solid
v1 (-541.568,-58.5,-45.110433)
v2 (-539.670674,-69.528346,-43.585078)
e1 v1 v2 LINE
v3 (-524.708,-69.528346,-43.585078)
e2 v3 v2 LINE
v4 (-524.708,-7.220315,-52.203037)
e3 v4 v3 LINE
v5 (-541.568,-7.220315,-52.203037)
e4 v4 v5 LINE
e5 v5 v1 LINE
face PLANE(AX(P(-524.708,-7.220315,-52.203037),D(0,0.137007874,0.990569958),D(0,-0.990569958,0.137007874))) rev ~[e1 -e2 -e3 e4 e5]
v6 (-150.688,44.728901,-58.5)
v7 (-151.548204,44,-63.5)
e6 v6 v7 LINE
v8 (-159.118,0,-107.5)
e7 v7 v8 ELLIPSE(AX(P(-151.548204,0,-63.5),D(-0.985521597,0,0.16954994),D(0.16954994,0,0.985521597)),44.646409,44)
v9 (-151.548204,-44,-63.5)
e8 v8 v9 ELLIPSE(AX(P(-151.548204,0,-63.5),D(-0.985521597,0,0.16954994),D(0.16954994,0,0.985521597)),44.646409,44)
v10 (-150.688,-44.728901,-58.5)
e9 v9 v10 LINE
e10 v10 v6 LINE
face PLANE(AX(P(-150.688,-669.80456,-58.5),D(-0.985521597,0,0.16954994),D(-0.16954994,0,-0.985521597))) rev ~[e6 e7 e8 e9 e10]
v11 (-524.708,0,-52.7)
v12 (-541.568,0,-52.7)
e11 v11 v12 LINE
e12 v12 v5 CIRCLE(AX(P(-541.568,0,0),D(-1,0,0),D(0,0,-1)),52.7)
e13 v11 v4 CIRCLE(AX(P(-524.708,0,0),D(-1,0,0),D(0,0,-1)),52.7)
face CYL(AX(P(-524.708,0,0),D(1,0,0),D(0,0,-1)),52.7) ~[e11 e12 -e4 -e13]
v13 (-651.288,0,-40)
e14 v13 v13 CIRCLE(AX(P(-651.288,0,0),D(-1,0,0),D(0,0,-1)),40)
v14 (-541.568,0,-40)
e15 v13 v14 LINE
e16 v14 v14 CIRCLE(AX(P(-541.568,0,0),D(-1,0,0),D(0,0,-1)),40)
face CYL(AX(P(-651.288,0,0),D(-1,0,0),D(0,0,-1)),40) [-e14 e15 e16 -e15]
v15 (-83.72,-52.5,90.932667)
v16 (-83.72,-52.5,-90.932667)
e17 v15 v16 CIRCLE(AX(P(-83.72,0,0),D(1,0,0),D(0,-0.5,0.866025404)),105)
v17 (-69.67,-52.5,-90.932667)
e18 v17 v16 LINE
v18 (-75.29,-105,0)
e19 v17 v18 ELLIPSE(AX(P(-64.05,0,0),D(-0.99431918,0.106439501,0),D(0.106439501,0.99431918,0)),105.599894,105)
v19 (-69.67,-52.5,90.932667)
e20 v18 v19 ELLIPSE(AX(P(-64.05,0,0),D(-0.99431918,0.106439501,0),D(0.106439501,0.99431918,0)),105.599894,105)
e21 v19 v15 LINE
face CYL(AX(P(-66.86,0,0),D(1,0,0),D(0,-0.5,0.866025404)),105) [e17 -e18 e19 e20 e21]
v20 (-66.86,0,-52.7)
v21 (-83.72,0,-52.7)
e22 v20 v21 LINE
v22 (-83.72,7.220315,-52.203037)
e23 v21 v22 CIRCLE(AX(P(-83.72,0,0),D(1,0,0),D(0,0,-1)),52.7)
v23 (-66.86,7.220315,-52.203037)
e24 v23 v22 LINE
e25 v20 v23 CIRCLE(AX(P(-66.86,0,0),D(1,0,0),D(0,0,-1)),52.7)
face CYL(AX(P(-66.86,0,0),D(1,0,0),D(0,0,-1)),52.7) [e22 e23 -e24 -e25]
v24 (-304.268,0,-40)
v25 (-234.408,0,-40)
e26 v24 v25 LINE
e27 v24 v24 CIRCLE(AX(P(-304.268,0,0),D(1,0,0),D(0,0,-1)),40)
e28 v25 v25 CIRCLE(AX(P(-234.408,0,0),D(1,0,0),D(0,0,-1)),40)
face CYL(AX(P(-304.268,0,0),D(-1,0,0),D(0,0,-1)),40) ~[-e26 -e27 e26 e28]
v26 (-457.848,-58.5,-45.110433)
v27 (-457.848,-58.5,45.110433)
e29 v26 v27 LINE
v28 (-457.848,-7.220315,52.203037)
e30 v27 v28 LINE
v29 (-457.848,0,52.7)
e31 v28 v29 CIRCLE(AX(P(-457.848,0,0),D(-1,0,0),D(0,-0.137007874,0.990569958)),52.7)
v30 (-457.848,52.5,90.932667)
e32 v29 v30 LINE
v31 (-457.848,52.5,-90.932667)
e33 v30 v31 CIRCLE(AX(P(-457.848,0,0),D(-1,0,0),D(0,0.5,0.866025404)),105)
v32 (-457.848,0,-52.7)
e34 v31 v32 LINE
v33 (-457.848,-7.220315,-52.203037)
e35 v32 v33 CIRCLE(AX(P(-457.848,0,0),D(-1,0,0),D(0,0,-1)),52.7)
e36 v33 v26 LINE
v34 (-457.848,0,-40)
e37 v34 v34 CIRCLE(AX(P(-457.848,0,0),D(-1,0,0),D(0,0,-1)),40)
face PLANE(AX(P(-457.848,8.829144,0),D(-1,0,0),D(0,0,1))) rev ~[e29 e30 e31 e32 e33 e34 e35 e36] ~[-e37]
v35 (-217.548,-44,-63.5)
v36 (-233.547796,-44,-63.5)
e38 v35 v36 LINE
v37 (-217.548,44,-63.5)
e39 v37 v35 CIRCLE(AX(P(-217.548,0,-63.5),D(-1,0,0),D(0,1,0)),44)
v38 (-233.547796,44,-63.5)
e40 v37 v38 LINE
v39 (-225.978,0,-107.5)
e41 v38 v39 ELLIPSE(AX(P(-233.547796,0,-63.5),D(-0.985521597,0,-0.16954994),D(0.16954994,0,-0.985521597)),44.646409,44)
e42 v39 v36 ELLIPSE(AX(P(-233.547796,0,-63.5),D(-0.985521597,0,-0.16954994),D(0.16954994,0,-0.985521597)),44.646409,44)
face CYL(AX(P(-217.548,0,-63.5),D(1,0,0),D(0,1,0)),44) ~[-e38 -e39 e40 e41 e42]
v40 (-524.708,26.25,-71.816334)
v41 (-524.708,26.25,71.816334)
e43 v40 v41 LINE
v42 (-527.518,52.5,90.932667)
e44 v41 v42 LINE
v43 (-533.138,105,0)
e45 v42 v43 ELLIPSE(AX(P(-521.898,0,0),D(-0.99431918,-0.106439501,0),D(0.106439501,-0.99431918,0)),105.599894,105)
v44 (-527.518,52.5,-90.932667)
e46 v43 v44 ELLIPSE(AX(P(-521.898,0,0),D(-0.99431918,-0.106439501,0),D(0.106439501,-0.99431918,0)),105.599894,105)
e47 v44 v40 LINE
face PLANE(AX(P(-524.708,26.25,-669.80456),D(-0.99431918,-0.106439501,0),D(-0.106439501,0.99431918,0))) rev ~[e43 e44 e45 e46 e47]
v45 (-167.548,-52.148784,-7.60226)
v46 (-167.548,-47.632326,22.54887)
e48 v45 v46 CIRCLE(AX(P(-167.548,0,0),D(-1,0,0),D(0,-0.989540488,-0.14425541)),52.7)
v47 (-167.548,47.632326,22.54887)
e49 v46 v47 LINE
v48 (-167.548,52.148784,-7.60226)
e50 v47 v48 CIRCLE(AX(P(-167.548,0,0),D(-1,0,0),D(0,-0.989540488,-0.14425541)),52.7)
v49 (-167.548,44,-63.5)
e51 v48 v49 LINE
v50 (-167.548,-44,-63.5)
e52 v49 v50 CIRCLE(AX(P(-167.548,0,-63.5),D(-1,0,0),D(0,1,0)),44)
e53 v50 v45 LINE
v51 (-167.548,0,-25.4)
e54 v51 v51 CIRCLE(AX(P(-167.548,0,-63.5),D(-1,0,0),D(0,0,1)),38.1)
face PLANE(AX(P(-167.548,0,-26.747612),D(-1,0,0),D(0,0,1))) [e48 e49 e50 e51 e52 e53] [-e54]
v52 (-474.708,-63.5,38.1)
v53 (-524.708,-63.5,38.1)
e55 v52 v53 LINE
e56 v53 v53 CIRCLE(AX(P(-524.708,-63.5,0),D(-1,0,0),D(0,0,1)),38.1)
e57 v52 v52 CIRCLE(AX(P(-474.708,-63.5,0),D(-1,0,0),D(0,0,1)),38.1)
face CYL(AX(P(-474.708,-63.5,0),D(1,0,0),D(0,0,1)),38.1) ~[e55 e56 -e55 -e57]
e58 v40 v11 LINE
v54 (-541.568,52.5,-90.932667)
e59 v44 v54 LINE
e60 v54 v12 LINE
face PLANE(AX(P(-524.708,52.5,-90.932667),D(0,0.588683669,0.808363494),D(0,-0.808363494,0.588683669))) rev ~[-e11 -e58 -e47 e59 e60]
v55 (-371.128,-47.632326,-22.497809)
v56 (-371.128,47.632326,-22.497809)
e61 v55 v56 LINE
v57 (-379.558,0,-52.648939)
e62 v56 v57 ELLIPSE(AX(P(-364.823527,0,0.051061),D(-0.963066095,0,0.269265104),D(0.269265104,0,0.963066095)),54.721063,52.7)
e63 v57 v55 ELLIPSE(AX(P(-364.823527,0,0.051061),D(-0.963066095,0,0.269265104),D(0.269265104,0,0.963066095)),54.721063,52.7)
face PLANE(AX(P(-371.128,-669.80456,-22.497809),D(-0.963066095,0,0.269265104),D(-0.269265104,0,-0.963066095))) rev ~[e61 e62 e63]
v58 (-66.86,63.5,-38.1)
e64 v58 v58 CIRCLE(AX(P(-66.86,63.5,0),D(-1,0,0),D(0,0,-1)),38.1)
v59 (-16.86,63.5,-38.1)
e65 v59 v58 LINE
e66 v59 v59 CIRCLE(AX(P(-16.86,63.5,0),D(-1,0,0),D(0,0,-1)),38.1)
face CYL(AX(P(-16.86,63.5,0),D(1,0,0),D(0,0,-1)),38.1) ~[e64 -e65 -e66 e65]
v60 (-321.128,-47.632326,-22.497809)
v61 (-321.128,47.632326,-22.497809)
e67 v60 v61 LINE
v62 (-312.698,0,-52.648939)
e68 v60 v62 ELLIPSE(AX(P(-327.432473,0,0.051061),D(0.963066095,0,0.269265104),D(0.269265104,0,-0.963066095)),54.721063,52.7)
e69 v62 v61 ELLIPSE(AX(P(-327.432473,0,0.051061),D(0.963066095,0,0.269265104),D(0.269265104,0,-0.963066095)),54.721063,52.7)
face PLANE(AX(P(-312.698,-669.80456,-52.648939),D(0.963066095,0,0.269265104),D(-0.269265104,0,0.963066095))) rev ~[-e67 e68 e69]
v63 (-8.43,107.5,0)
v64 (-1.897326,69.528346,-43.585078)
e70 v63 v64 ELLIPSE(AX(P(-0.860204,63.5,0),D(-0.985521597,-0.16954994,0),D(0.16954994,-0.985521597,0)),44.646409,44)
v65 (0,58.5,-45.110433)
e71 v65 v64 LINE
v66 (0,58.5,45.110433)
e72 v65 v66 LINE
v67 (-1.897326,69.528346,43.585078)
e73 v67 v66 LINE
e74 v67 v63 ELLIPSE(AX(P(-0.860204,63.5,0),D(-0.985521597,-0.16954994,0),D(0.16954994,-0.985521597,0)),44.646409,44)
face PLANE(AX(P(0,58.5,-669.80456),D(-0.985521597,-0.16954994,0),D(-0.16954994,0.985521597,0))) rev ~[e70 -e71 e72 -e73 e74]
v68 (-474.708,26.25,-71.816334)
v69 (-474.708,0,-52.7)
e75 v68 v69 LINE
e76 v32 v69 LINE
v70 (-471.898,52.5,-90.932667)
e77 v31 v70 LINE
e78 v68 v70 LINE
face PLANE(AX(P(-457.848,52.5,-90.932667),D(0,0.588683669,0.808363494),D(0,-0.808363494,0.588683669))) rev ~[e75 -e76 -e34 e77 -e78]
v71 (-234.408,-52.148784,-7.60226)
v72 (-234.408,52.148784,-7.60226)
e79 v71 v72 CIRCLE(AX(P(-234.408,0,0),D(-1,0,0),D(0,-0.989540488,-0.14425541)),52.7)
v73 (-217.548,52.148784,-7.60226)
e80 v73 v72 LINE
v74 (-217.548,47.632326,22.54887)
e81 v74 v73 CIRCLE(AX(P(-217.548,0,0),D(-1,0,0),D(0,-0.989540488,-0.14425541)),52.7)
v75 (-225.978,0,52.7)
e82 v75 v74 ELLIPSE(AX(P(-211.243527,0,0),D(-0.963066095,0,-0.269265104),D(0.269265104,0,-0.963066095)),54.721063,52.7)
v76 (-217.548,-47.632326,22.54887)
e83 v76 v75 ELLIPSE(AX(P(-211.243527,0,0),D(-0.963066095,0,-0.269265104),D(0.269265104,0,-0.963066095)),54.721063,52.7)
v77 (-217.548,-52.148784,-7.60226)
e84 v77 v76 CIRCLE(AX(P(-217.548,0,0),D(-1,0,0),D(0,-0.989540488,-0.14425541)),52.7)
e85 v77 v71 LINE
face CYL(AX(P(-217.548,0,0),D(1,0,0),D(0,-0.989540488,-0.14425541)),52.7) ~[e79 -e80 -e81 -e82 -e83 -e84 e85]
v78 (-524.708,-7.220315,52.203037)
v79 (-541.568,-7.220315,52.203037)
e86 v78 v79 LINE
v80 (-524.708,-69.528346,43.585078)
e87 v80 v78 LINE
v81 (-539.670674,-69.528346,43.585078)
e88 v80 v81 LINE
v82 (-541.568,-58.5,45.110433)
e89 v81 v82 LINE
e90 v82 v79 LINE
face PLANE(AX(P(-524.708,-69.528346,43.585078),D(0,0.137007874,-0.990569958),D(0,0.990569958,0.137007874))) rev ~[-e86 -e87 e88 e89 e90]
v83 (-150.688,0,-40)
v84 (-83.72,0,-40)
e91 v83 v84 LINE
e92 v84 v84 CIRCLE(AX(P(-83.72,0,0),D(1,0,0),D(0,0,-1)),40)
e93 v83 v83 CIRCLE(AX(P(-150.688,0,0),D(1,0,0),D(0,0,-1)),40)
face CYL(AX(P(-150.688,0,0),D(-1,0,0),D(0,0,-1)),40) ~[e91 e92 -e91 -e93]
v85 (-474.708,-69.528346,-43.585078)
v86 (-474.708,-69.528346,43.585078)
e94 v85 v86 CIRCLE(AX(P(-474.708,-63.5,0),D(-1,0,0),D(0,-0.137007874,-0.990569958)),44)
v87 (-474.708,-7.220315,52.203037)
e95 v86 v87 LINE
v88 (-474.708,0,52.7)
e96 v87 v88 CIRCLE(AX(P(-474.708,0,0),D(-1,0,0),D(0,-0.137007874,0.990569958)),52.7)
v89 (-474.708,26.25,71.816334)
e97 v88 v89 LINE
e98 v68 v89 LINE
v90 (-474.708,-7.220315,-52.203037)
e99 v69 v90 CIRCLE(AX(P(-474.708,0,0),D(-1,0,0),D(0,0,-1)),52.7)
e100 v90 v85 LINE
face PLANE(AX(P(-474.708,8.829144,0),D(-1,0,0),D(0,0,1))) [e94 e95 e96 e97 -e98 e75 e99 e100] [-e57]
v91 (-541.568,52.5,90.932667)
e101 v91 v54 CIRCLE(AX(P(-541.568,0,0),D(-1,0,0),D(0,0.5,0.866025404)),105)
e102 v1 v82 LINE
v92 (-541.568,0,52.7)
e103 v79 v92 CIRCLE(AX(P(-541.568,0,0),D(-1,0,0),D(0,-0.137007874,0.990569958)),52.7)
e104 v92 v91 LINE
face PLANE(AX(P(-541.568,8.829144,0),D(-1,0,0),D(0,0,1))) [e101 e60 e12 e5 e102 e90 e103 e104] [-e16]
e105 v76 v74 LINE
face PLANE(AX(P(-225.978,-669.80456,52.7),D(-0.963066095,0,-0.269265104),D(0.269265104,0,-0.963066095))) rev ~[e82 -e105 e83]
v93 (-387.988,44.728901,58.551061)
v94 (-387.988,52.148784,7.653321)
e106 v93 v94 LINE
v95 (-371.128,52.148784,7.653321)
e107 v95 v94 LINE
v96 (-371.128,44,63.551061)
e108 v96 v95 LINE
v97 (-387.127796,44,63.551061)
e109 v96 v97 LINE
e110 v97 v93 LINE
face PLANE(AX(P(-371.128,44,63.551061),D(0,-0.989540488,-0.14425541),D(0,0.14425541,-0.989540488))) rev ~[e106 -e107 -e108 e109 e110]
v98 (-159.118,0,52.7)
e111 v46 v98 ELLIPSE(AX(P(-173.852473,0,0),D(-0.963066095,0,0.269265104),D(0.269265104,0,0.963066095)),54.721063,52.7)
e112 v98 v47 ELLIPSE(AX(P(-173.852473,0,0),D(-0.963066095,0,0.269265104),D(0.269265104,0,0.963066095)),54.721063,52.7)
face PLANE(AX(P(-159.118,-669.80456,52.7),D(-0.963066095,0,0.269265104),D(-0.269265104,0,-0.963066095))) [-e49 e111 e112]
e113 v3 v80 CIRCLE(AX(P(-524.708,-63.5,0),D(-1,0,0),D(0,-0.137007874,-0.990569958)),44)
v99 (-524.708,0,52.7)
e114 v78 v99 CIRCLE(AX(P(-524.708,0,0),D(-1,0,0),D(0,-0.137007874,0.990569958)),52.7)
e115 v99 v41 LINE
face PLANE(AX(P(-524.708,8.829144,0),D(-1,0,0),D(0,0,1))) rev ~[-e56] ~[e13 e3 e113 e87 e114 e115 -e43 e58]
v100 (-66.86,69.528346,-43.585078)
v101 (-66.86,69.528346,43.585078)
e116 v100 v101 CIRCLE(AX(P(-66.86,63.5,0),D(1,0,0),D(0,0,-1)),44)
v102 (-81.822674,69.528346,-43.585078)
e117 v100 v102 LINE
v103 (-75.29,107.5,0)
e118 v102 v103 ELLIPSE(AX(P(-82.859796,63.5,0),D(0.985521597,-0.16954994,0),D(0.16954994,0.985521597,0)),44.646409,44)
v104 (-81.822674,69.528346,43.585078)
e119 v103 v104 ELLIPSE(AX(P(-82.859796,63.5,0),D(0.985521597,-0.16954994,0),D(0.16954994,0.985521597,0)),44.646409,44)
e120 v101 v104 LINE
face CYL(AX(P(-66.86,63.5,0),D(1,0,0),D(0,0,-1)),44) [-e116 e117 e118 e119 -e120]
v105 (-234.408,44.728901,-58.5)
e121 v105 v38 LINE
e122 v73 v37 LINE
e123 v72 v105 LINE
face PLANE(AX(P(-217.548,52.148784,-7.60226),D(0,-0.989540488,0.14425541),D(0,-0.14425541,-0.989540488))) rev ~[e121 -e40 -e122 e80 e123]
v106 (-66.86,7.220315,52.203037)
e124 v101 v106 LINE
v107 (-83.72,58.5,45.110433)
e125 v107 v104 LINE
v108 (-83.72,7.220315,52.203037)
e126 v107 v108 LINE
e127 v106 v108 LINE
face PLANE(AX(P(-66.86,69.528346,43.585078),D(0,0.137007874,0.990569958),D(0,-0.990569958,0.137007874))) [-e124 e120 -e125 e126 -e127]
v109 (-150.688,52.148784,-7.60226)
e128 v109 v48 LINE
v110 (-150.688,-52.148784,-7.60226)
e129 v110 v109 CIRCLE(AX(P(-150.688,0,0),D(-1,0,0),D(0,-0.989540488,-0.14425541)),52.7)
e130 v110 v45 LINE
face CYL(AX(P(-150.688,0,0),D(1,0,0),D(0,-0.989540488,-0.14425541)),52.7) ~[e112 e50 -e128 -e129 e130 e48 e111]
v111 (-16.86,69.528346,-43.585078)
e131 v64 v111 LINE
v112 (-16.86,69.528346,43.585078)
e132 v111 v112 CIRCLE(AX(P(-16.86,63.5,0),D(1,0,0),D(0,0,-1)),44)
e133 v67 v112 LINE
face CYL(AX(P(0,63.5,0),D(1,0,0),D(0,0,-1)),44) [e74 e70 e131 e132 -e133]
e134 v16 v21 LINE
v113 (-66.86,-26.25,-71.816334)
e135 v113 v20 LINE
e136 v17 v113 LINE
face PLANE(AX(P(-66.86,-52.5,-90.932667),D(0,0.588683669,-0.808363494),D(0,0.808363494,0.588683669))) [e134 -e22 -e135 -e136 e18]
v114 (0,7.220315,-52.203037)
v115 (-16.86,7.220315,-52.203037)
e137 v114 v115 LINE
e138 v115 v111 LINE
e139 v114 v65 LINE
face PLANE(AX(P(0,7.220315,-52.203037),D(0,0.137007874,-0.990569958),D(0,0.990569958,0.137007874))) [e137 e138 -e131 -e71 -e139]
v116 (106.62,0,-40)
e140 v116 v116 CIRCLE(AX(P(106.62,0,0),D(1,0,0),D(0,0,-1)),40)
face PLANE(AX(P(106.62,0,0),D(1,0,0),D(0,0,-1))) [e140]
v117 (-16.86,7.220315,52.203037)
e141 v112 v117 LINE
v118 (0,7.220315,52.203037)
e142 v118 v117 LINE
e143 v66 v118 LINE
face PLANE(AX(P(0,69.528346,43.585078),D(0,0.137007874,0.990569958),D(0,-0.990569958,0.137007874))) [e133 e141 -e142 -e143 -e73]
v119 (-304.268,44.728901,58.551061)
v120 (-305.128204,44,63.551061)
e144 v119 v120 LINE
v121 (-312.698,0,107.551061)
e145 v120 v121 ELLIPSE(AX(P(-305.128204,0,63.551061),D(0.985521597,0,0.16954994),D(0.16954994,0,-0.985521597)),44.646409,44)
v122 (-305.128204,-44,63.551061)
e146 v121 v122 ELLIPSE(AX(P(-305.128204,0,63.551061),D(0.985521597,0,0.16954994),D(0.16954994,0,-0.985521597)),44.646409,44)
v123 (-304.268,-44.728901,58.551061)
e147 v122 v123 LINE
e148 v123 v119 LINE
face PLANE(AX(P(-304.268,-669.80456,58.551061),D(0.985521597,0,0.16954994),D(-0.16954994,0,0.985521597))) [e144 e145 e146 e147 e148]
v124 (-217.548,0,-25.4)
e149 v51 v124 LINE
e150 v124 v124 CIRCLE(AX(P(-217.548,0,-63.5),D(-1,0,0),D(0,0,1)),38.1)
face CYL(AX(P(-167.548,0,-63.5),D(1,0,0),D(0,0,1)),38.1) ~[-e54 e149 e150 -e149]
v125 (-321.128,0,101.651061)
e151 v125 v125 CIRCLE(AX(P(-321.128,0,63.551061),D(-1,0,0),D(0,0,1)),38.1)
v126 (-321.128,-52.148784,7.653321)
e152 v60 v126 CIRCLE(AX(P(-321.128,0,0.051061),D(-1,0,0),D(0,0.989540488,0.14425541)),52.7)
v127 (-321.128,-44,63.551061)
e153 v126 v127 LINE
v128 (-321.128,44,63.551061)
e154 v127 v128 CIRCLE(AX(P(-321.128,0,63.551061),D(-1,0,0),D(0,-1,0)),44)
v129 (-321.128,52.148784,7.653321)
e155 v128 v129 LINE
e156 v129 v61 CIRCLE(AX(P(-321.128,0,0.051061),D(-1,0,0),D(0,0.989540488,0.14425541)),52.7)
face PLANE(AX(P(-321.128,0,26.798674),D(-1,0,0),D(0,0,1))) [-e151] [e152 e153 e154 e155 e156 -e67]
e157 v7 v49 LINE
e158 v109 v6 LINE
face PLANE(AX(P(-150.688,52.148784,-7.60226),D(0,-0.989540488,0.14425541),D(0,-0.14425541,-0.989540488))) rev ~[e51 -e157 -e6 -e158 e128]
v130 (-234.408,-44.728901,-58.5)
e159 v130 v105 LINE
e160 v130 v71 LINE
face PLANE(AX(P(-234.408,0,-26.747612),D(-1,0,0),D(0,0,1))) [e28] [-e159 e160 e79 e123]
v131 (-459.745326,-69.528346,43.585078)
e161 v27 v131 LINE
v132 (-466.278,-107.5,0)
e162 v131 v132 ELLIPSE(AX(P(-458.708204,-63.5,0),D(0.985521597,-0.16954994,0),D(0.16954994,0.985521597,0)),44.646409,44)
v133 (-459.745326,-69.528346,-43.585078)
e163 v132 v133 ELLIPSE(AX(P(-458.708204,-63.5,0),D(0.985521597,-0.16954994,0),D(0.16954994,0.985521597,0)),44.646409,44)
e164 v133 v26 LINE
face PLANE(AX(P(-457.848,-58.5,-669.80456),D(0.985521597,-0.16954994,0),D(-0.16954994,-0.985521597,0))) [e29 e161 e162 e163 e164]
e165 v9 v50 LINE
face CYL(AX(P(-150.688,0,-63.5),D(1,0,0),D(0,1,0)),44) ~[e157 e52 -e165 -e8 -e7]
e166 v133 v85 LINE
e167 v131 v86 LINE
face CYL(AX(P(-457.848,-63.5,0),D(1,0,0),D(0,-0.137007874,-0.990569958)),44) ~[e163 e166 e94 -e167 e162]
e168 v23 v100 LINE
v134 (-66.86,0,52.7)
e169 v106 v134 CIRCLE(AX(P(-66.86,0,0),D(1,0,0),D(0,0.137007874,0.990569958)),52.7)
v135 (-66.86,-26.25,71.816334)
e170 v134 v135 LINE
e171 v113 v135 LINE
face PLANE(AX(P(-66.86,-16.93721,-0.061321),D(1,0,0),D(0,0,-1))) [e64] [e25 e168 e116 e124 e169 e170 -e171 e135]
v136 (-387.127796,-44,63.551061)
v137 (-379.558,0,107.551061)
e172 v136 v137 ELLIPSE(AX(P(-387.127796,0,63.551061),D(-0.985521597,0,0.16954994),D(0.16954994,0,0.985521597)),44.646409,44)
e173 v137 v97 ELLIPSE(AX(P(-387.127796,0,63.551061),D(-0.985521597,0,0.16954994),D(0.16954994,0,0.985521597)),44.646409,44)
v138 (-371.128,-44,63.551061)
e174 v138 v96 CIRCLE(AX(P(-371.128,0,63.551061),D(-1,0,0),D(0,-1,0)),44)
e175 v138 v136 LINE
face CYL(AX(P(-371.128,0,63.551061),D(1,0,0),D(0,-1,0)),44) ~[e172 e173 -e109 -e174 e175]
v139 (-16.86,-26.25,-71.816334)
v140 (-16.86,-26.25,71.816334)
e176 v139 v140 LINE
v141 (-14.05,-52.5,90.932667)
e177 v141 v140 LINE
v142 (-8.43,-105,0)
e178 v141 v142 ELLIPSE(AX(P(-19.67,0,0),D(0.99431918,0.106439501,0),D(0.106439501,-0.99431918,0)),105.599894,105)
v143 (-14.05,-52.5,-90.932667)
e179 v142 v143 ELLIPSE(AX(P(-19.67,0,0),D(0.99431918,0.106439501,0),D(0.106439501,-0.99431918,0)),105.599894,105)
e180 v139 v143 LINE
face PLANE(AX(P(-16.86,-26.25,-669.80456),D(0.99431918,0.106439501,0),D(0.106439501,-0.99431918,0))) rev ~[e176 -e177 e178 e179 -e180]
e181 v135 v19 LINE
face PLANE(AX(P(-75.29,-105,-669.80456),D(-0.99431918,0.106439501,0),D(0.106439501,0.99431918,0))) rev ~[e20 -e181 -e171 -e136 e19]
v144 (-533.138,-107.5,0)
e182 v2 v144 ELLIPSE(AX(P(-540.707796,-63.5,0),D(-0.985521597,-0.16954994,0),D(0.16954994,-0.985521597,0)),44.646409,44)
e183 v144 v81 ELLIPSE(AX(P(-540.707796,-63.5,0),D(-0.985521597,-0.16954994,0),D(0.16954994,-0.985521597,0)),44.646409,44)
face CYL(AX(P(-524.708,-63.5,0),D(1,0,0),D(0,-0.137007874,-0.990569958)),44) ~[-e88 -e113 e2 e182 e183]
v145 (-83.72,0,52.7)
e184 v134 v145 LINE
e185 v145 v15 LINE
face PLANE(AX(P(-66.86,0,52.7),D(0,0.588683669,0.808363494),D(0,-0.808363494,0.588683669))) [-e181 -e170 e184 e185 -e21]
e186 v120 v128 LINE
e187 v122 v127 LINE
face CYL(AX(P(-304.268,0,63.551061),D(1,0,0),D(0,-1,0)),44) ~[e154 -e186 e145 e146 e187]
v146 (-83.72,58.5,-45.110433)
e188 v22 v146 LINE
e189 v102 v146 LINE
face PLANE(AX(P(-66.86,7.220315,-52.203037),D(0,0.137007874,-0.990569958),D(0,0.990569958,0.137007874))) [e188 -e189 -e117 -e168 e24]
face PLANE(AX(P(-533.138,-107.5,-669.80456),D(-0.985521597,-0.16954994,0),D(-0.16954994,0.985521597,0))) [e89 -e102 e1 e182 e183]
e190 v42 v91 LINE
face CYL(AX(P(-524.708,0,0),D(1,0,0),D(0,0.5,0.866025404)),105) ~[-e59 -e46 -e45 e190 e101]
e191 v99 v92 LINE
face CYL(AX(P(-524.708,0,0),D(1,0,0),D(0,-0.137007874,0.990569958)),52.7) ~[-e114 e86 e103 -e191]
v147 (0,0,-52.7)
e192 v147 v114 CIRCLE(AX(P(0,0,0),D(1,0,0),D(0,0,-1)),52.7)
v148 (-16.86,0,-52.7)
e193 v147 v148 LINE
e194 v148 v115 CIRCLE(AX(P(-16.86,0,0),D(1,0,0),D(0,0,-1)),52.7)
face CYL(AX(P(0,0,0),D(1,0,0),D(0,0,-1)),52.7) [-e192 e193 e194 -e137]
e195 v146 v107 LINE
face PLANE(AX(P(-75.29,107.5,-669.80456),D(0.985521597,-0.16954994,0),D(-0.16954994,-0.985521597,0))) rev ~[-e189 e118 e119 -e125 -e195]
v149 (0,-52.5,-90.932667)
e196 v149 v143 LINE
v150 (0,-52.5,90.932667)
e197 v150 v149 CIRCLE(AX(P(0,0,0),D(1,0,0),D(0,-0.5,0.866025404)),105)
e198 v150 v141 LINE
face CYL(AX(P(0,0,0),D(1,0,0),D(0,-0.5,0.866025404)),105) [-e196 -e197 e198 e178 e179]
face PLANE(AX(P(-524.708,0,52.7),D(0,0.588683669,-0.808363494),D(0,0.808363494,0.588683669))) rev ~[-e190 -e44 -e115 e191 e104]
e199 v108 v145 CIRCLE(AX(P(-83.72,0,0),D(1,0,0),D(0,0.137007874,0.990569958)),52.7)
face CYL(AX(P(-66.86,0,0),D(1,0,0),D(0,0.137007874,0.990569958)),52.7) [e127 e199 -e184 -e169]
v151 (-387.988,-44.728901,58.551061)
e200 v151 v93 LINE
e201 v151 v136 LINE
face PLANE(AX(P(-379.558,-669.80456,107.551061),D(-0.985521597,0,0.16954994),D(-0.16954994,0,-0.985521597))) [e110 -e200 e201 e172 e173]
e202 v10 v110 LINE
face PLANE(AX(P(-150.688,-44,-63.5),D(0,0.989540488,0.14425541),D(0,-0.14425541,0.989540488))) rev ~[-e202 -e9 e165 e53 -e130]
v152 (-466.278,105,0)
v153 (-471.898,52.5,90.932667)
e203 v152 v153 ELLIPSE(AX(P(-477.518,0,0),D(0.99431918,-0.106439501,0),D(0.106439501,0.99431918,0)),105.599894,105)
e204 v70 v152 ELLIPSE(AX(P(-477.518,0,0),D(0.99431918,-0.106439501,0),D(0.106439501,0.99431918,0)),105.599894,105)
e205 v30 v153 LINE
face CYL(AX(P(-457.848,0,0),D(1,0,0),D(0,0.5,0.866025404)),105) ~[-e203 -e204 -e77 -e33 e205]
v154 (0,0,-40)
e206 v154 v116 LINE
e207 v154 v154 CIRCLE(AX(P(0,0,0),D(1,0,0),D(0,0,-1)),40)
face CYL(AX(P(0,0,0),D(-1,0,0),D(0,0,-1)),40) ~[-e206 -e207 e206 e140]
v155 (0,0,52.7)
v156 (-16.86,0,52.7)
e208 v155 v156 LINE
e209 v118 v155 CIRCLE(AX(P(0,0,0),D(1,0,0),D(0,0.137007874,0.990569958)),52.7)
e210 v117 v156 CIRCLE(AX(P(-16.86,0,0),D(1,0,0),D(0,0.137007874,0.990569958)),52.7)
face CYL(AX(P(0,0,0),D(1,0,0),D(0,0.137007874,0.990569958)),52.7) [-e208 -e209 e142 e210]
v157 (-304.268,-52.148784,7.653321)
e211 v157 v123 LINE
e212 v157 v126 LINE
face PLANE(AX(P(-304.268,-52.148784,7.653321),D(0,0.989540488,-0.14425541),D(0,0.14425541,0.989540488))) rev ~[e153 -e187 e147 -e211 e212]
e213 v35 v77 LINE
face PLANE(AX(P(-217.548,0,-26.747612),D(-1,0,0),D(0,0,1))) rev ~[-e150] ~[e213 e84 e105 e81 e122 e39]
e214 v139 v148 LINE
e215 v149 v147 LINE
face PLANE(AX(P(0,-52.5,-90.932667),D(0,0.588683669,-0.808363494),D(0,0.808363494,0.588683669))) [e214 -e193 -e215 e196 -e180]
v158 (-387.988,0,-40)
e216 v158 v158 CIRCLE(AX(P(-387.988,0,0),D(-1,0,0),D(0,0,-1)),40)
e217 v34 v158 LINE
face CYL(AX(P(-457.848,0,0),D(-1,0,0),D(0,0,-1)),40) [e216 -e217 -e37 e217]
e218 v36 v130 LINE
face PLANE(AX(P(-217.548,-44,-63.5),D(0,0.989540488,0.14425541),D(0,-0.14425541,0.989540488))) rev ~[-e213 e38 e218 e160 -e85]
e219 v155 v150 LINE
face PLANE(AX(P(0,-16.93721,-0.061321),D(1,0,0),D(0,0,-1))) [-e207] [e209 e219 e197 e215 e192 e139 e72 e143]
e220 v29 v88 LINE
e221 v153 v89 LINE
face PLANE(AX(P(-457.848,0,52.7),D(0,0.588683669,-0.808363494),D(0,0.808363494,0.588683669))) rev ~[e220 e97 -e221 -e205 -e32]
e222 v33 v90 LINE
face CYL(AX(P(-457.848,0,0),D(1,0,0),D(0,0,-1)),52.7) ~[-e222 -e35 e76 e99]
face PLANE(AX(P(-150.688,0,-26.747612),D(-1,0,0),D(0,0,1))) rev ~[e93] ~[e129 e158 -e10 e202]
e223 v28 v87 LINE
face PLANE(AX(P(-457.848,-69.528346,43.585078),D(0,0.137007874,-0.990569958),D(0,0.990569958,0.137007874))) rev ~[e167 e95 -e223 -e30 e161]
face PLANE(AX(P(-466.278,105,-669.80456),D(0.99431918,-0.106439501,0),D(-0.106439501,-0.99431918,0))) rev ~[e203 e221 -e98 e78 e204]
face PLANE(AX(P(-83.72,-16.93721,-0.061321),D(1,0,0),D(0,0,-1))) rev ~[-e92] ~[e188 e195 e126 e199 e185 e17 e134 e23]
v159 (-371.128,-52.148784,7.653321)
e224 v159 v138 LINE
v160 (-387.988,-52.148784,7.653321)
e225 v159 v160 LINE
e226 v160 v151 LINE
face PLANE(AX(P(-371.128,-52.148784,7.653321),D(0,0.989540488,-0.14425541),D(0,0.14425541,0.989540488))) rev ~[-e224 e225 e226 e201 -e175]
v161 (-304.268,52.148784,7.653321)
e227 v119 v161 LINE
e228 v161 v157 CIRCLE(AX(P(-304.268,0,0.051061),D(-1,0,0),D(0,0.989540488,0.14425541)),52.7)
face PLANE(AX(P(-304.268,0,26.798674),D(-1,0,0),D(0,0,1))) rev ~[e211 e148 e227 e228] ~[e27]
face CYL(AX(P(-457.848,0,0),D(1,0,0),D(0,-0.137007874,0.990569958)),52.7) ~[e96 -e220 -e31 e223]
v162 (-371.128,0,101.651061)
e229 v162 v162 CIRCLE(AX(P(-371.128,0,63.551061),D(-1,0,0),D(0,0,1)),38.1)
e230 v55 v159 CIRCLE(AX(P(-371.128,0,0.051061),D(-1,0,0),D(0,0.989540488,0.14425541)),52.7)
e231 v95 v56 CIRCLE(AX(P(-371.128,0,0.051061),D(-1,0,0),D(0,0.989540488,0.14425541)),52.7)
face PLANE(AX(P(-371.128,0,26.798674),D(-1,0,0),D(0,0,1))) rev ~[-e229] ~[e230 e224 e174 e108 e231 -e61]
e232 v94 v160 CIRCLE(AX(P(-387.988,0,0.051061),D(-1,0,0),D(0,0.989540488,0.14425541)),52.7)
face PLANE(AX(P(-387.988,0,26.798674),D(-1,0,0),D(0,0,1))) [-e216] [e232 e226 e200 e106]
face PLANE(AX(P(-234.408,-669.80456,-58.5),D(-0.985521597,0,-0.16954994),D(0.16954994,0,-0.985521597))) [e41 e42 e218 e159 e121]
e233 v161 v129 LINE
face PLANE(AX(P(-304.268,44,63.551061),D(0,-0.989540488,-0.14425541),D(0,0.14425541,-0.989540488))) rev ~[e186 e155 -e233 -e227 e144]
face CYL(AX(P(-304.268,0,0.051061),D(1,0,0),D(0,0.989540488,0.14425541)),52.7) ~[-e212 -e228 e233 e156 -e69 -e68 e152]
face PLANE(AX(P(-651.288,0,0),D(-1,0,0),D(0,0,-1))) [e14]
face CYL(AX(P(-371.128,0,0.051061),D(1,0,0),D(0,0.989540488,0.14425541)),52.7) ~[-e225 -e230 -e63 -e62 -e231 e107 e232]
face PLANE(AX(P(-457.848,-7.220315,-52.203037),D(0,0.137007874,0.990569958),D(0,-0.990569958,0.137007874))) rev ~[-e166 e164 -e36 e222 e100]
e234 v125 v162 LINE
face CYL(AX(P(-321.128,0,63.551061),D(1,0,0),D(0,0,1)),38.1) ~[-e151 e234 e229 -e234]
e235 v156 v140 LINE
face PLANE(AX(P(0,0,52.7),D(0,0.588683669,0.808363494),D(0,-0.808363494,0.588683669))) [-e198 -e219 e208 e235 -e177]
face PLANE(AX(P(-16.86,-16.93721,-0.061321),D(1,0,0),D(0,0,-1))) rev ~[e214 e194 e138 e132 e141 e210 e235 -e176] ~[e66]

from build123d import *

# Parameters (mm, degrees)
SKETCH1_R               = 40
BOSS_EXTRUDE1_DEPTH     = 106.62
SKETCH2_R               = 44
BOSS_EXTRUDE2_DEPTH     = 16.86
SKETCH3_R               = 38.1
BOSS_EXTRUDE3_DEPTH     = 50
LPATTERN1_COUNT         = 2
LPATTERN1_PITCH         = 66.86
BOSS_EXTRUDE4_START     = -150.688
SKETCH1_2_R             = 40
BOSS_EXTRUDE4_DEPTH     = 66.968
BOSS_EXTRUDE5_DEPTH     = 16.86
SKETCH5_R               = 38.1
BOSS_EXTRUDE6_DEPTH     = 50
LPATTERN2_COUNT         = 2
LPATTERN2_PITCH         = 66.86
BOSS_EXTRUDE7_START     = -304.268
SKETCH1_3_R             = 40
BOSS_EXTRUDE7_DEPTH     = 69.86
BOSS_EXTRUDE8_DEPTH     = 16.86
SKETCH7_R               = 38.1
BOSS_EXTRUDE9_DEPTH     = 50
BOSS_EXTRUDE10_START    = 66.86
BOSS_EXTRUDE10_DEPTH    = 16.86
BOSS_EXTRUDE11_START    = 69.86
SKETCH8_R               = 40
BOSS_EXTRUDE11_DEPTH    = 69.86
SKETCH9_R               = 40
BOSS_EXTRUDE12_DEPTH    = 16.86
SKETCH10_R              = 38.1
BOSS_EXTRUDE13_DEPTH    = 50
BOSS_EXTRUDE14_START    = 66.86
SKETCH9_3_R             = 40
BOSS_EXTRUDE14_DEPTH    = 16.86
BOSS_EXTRUDE15_START    = 193.44
SKETCH9_4_R             = 40
BOSS_EXTRUDE15_DEPTH    = 109.72
CUT_EXTRUDE1_DEPTH      = 669.804560177
CUT_EXTRUDE1_DEPTH_BACK = 669.804560177
CUT_EXTRUDE2_DEPTH      = 669.804560177
CUT_EXTRUDE2_DEPTH_BACK = 669.804560177


with BuildPart() as part:
    # Sketch1 → Boss-Extrude1 (new body)
    with BuildSketch(Plane(origin=(0, 0, 0), x_dir=(0, 0, -1), z_dir=(1, 0, 0))):
        Circle(SKETCH1_R)
    extrude(amount=BOSS_EXTRUDE1_DEPTH)

    # Sketch2 → Boss-Extrude2 (add)
    with BuildSketch(Plane(origin=(0, 0, 0), x_dir=(0, 0, -1), z_dir=(1, 0, 0))):
        with BuildLine():
            Line((52.203036807, 7.220314961), (43.585078169, 69.528346457))
            ThreePointArc((43.585078169, 69.528346457), (43.89614698, 66.521304401), (44, 63.5))
            ThreePointArc((44, 63.5), (-3.021304401, 19.60385302), (-43.585078169, 69.528346457))
            Line((-43.585078169, 69.528346457), (-52.203036807, 7.220314961))
            ThreePointArc((-52.203036807, 7.220314961), (-52.575612406, 3.61869868), (-52.7, 0))
            Line((-52.7, 0), (-90.932667397, -52.5))
            ThreePointArc((-90.932667397, -52.5), (0, -105), (90.932667397, -52.5))
            Line((90.932667397, -52.5), (52.7, 0))
            ThreePointArc((52.7, 0), (52.575612406, 3.61869868), (52.203036807, 7.220314961))
        make_face()
        with Locations((0, 63.5)):
            Circle(SKETCH2_R)
    boss_extrude2 = extrude(amount=-BOSS_EXTRUDE2_DEPTH)

    # Sketch3 → Boss-Extrude3 (add)
    with BuildSketch(Plane.ZY.offset(16.86)):
        with Locations(Location((0, 63.5, 0), (0, 0, 180))):
            Circle(SKETCH3_R)
    extrude(amount=BOSS_EXTRUDE3_DEPTH)

    # LPattern1: Boss-Extrude2 ×2
    with Locations(*[(-i * LPATTERN1_PITCH, 0, 0) for i in range(1, LPATTERN1_COUNT)]):
        add(boss_extrude2)

    # Sketch1<2> → Boss-Extrude4 (add)
    with BuildSketch(Plane(origin=(0, 0, 0), x_dir=(0, 0, -1), z_dir=(1, 0, 0)).offset(BOSS_EXTRUDE4_START)):
        Circle(SKETCH1_2_R)
    extrude(amount=BOSS_EXTRUDE4_DEPTH)

    # Sketch4 → Boss-Extrude5 (add)
    with BuildSketch(Plane.ZY.offset(150.688)):
        with BuildLine():
            Line((-7.602260115, 52.148783698), (-63.5, 44))
            ThreePointArc((-63.5, 44), (-107.5, 0), (-63.5, -44))
            Line((-63.5, -44), (-7.602260115, -52.148783698))
            ThreePointArc((-7.602260115, -52.148783698), (52.7, 0), (-7.602260115, 52.148783698))
        make_face()
    boss_extrude5 = extrude(amount=BOSS_EXTRUDE5_DEPTH)

    # Sketch5 → Boss-Extrude6 (add)
    with BuildSketch(Plane.ZY.offset(167.548)):
        with Locations((-63.5, 0)):
            Circle(SKETCH5_R)
    extrude(amount=BOSS_EXTRUDE6_DEPTH)

    # LPattern2: Boss-Extrude5 ×2
    with Locations(*[(-i * LPATTERN2_PITCH, 0, 0) for i in range(1, LPATTERN2_COUNT)]):
        add(boss_extrude5)

    # Sketch1<3> → Boss-Extrude7 (add)
    with BuildSketch(Plane(origin=(0, 0, 0), x_dir=(0, 0, -1), z_dir=(1, 0, 0)).offset(BOSS_EXTRUDE7_START)):
        Circle(SKETCH1_3_R)
    extrude(amount=BOSS_EXTRUDE7_DEPTH)

    # Sketch6 → Boss-Extrude8 (add)
    with BuildSketch(Plane.ZY.offset(304.268)):
        with BuildLine():
            Line((7.653321337, -52.148783698), (63.551061222, -44))
            ThreePointArc((63.551061222, -44), (107.551061222, 0), (63.551061222, 44))
            Line((63.551061222, 44), (7.653321337, 52.148783698))
            ThreePointArc((7.653321337, 52.148783698), (-52.648938778, 0), (7.653321337, -52.148783698))
        make_face()
    extrude(amount=BOSS_EXTRUDE8_DEPTH)

    # Sketch7 → Boss-Extrude9 (add)
    with BuildSketch(Plane.ZY.offset(321.128)):
        with Locations((63.551061222, 0)):
            Circle(SKETCH7_R)
    extrude(amount=BOSS_EXTRUDE9_DEPTH)

    # Sketch6<2> → Boss-Extrude10 (add)
    with BuildSketch(Plane.ZY.offset(304.268).offset(BOSS_EXTRUDE10_START)):
        with BuildLine():
            Line((7.653321337, -52.148783698), (63.551061222, -44))
            ThreePointArc((63.551061222, -44), (107.551061222, 0), (63.551061222, 44))
            Line((63.551061222, 44), (7.653321337, 52.148783698))
            ThreePointArc((7.653321337, 52.148783698), (-52.648938778, 0), (7.653321337, -52.148783698))
        make_face()
    extrude(amount=BOSS_EXTRUDE10_DEPTH)

    # Sketch8 → Boss-Extrude11 (add)
    with BuildSketch(Plane.ZY.offset(387.988).offset(BOSS_EXTRUDE11_START)):
        with Locations(Location((0, 0, 0), (0, 0, 180))):
            Circle(SKETCH8_R)
    extrude(amount=-BOSS_EXTRUDE11_DEPTH)

    # Sketch9 → Boss-Extrude12 (add)
    # profile 1 of 2: a face of its own
    with BuildSketch(Plane.ZY.offset(457.848)):
        with BuildLine():
            Line((52.7, 0), (90.932667397, 52.5))
            ThreePointArc((90.932667397, 52.5), (0, 105), (-90.932667397, 52.5))
            Line((-90.932667397, 52.5), (-52.7, 0))
            ThreePointArc((-52.7, 0), (-52.575612406, -3.61869868), (-52.203036807, -7.220314961))
            Line((-52.203036807, -7.220314961), (-43.585078169, -69.528346457))
            ThreePointArc((-43.585078169, -69.528346457), (0, -107.5), (43.585078169, -69.528346457))
            Line((43.585078169, -69.528346457), (52.203036807, -7.220314961))
            ThreePointArc((52.203036807, -7.220314961), (52.575612406, -3.61869868), (52.7, 0))
        make_face()
        with Locations(Location((0, 0, 0), (0, 0, 180))):
            Circle(SKETCH9_R, mode=Mode.SUBTRACT)
    # profile 2 of 2: a face of its own
    with BuildSketch(Plane.ZY.offset(457.848)):
        with Locations(Location((0, 0, 0), (0, 0, 180))):
            Circle(SKETCH9_R)
    extrude(amount=BOSS_EXTRUDE12_DEPTH)

    # Sketch10 → Boss-Extrude13 (add)
    with BuildSketch(Plane.ZY.offset(474.708)):
        with Locations((0, -63.5)):
            Circle(SKETCH10_R)
    extrude(amount=BOSS_EXTRUDE13_DEPTH)

    # Sketch9<3> → Boss-Extrude14 (add)
    # profile 1 of 2: a face of its own
    with BuildSketch(Plane.ZY.offset(457.848).offset(BOSS_EXTRUDE14_START)):
        with BuildLine():
            Line((52.7, 0), (90.932667397, 52.5))
            ThreePointArc((90.932667397, 52.5), (0, 105), (-90.932667397, 52.5))
            Line((-90.932667397, 52.5), (-52.7, 0))
            ThreePointArc((-52.7, 0), (-52.575612406, -3.61869868), (-52.203036807, -7.220314961))
            Line((-52.203036807, -7.220314961), (-43.585078169, -69.528346457))
            ThreePointArc((-43.585078169, -69.528346457), (0, -107.5), (43.585078169, -69.528346457))
            Line((43.585078169, -69.528346457), (52.203036807, -7.220314961))
            ThreePointArc((52.203036807, -7.220314961), (52.575612406, -3.61869868), (52.7, 0))
        make_face()
        with Locations(Location((0, 0, 0), (0, 0, 180))):
            Circle(SKETCH9_3_R, mode=Mode.SUBTRACT)
    # profile 2 of 2: a face of its own
    with BuildSketch(Plane.ZY.offset(457.848).offset(BOSS_EXTRUDE14_START)):
        with Locations(Location((0, 0, 0), (0, 0, 180))):
            Circle(SKETCH9_3_R)
    extrude(amount=BOSS_EXTRUDE14_DEPTH)

    # Sketch9<4> → Boss-Extrude15 (add)
    with BuildSketch(Plane.ZY.offset(457.848).offset(BOSS_EXTRUDE15_START)):
        with Locations(Location((0, 0, 0), (0, 0, 180))):
            Circle(SKETCH9_4_R)
    extrude(amount=-BOSS_EXTRUDE15_DEPTH)

    # Sketch11 → Cut-Extrude1 (cut, two sides: drawn at the far end of the back side and taken through both)
    with BuildSketch(Plane.XY.offset(-CUT_EXTRUDE1_DEPTH_BACK)):
        Polygon((-533.138, 105), (-524.708, 105), (-524.708, 26.25), align=None)
        Polygon((-474.708, 105), (-466.278, 105), (-474.708, 26.25), align=None)
        Polygon((-541.568, -107.5), (-533.138, -107.5), (-541.568, -58.5), align=None)
        Polygon((-466.278, -107.5), (-457.848, -107.5), (-457.848, -58.5), align=None)
        Polygon((-75.29, -105), (-66.86, -26.25), (-66.86, -105), align=None)
        Polygon((-16.86, -26.25), (-8.43, -105), (-16.86, -105), align=None)
        Polygon((-8.43, 107.5), (0, 107.5), (0, 58.5), align=None)
        Polygon((-83.72, 107.5), (-75.29, 107.5), (-83.72, 58.5), align=None)
    extrude(amount=CUT_EXTRUDE1_DEPTH + CUT_EXTRUDE1_DEPTH_BACK, mode=Mode.SUBTRACT)

    # Sketch12 → Cut-Extrude2 (cut, two sides: drawn at the far end of the back side and taken through both)
    with BuildSketch(Plane(origin=(0, 0, 0), x_dir=(1, 0, 0), z_dir=(0, 1, 0)).offset(-CUT_EXTRUDE2_DEPTH_BACK)):
        Polygon((-379.558, -107.551061222), (-387.988, -58.551061222), (-387.988, -107.551061222), align=None)
        Polygon((-304.268, -107.551061222), (-304.268, -58.551061222), (-312.698, -107.551061222), align=None)
        Polygon((-379.558, 52.648938778), (-371.128, 52.648938778), (-371.128, 22.49780872), align=None)
        Polygon((-312.698, 52.648938778), (-321.128, 22.49780872), (-321.128, 52.648938778), align=None)
        Polygon((-159.118, 107.5), (-150.688, 107.5), (-150.688, 58.5), align=None)
        Polygon((-225.978, 107.5), (-234.408, 107.5), (-234.408, 58.5), align=None)
        Polygon((-217.548, -52.7), (-225.978, -52.7), (-217.548, -22.548869942), align=None)
        Polygon((-159.118, -52.7), (-167.548, -22.548869942), (-167.548, -52.7), align=None)
    extrude(amount=CUT_EXTRUDE2_DEPTH + CUT_EXTRUDE2_DEPTH_BACK, mode=Mode.SUBTRACT)


solid = part.part
